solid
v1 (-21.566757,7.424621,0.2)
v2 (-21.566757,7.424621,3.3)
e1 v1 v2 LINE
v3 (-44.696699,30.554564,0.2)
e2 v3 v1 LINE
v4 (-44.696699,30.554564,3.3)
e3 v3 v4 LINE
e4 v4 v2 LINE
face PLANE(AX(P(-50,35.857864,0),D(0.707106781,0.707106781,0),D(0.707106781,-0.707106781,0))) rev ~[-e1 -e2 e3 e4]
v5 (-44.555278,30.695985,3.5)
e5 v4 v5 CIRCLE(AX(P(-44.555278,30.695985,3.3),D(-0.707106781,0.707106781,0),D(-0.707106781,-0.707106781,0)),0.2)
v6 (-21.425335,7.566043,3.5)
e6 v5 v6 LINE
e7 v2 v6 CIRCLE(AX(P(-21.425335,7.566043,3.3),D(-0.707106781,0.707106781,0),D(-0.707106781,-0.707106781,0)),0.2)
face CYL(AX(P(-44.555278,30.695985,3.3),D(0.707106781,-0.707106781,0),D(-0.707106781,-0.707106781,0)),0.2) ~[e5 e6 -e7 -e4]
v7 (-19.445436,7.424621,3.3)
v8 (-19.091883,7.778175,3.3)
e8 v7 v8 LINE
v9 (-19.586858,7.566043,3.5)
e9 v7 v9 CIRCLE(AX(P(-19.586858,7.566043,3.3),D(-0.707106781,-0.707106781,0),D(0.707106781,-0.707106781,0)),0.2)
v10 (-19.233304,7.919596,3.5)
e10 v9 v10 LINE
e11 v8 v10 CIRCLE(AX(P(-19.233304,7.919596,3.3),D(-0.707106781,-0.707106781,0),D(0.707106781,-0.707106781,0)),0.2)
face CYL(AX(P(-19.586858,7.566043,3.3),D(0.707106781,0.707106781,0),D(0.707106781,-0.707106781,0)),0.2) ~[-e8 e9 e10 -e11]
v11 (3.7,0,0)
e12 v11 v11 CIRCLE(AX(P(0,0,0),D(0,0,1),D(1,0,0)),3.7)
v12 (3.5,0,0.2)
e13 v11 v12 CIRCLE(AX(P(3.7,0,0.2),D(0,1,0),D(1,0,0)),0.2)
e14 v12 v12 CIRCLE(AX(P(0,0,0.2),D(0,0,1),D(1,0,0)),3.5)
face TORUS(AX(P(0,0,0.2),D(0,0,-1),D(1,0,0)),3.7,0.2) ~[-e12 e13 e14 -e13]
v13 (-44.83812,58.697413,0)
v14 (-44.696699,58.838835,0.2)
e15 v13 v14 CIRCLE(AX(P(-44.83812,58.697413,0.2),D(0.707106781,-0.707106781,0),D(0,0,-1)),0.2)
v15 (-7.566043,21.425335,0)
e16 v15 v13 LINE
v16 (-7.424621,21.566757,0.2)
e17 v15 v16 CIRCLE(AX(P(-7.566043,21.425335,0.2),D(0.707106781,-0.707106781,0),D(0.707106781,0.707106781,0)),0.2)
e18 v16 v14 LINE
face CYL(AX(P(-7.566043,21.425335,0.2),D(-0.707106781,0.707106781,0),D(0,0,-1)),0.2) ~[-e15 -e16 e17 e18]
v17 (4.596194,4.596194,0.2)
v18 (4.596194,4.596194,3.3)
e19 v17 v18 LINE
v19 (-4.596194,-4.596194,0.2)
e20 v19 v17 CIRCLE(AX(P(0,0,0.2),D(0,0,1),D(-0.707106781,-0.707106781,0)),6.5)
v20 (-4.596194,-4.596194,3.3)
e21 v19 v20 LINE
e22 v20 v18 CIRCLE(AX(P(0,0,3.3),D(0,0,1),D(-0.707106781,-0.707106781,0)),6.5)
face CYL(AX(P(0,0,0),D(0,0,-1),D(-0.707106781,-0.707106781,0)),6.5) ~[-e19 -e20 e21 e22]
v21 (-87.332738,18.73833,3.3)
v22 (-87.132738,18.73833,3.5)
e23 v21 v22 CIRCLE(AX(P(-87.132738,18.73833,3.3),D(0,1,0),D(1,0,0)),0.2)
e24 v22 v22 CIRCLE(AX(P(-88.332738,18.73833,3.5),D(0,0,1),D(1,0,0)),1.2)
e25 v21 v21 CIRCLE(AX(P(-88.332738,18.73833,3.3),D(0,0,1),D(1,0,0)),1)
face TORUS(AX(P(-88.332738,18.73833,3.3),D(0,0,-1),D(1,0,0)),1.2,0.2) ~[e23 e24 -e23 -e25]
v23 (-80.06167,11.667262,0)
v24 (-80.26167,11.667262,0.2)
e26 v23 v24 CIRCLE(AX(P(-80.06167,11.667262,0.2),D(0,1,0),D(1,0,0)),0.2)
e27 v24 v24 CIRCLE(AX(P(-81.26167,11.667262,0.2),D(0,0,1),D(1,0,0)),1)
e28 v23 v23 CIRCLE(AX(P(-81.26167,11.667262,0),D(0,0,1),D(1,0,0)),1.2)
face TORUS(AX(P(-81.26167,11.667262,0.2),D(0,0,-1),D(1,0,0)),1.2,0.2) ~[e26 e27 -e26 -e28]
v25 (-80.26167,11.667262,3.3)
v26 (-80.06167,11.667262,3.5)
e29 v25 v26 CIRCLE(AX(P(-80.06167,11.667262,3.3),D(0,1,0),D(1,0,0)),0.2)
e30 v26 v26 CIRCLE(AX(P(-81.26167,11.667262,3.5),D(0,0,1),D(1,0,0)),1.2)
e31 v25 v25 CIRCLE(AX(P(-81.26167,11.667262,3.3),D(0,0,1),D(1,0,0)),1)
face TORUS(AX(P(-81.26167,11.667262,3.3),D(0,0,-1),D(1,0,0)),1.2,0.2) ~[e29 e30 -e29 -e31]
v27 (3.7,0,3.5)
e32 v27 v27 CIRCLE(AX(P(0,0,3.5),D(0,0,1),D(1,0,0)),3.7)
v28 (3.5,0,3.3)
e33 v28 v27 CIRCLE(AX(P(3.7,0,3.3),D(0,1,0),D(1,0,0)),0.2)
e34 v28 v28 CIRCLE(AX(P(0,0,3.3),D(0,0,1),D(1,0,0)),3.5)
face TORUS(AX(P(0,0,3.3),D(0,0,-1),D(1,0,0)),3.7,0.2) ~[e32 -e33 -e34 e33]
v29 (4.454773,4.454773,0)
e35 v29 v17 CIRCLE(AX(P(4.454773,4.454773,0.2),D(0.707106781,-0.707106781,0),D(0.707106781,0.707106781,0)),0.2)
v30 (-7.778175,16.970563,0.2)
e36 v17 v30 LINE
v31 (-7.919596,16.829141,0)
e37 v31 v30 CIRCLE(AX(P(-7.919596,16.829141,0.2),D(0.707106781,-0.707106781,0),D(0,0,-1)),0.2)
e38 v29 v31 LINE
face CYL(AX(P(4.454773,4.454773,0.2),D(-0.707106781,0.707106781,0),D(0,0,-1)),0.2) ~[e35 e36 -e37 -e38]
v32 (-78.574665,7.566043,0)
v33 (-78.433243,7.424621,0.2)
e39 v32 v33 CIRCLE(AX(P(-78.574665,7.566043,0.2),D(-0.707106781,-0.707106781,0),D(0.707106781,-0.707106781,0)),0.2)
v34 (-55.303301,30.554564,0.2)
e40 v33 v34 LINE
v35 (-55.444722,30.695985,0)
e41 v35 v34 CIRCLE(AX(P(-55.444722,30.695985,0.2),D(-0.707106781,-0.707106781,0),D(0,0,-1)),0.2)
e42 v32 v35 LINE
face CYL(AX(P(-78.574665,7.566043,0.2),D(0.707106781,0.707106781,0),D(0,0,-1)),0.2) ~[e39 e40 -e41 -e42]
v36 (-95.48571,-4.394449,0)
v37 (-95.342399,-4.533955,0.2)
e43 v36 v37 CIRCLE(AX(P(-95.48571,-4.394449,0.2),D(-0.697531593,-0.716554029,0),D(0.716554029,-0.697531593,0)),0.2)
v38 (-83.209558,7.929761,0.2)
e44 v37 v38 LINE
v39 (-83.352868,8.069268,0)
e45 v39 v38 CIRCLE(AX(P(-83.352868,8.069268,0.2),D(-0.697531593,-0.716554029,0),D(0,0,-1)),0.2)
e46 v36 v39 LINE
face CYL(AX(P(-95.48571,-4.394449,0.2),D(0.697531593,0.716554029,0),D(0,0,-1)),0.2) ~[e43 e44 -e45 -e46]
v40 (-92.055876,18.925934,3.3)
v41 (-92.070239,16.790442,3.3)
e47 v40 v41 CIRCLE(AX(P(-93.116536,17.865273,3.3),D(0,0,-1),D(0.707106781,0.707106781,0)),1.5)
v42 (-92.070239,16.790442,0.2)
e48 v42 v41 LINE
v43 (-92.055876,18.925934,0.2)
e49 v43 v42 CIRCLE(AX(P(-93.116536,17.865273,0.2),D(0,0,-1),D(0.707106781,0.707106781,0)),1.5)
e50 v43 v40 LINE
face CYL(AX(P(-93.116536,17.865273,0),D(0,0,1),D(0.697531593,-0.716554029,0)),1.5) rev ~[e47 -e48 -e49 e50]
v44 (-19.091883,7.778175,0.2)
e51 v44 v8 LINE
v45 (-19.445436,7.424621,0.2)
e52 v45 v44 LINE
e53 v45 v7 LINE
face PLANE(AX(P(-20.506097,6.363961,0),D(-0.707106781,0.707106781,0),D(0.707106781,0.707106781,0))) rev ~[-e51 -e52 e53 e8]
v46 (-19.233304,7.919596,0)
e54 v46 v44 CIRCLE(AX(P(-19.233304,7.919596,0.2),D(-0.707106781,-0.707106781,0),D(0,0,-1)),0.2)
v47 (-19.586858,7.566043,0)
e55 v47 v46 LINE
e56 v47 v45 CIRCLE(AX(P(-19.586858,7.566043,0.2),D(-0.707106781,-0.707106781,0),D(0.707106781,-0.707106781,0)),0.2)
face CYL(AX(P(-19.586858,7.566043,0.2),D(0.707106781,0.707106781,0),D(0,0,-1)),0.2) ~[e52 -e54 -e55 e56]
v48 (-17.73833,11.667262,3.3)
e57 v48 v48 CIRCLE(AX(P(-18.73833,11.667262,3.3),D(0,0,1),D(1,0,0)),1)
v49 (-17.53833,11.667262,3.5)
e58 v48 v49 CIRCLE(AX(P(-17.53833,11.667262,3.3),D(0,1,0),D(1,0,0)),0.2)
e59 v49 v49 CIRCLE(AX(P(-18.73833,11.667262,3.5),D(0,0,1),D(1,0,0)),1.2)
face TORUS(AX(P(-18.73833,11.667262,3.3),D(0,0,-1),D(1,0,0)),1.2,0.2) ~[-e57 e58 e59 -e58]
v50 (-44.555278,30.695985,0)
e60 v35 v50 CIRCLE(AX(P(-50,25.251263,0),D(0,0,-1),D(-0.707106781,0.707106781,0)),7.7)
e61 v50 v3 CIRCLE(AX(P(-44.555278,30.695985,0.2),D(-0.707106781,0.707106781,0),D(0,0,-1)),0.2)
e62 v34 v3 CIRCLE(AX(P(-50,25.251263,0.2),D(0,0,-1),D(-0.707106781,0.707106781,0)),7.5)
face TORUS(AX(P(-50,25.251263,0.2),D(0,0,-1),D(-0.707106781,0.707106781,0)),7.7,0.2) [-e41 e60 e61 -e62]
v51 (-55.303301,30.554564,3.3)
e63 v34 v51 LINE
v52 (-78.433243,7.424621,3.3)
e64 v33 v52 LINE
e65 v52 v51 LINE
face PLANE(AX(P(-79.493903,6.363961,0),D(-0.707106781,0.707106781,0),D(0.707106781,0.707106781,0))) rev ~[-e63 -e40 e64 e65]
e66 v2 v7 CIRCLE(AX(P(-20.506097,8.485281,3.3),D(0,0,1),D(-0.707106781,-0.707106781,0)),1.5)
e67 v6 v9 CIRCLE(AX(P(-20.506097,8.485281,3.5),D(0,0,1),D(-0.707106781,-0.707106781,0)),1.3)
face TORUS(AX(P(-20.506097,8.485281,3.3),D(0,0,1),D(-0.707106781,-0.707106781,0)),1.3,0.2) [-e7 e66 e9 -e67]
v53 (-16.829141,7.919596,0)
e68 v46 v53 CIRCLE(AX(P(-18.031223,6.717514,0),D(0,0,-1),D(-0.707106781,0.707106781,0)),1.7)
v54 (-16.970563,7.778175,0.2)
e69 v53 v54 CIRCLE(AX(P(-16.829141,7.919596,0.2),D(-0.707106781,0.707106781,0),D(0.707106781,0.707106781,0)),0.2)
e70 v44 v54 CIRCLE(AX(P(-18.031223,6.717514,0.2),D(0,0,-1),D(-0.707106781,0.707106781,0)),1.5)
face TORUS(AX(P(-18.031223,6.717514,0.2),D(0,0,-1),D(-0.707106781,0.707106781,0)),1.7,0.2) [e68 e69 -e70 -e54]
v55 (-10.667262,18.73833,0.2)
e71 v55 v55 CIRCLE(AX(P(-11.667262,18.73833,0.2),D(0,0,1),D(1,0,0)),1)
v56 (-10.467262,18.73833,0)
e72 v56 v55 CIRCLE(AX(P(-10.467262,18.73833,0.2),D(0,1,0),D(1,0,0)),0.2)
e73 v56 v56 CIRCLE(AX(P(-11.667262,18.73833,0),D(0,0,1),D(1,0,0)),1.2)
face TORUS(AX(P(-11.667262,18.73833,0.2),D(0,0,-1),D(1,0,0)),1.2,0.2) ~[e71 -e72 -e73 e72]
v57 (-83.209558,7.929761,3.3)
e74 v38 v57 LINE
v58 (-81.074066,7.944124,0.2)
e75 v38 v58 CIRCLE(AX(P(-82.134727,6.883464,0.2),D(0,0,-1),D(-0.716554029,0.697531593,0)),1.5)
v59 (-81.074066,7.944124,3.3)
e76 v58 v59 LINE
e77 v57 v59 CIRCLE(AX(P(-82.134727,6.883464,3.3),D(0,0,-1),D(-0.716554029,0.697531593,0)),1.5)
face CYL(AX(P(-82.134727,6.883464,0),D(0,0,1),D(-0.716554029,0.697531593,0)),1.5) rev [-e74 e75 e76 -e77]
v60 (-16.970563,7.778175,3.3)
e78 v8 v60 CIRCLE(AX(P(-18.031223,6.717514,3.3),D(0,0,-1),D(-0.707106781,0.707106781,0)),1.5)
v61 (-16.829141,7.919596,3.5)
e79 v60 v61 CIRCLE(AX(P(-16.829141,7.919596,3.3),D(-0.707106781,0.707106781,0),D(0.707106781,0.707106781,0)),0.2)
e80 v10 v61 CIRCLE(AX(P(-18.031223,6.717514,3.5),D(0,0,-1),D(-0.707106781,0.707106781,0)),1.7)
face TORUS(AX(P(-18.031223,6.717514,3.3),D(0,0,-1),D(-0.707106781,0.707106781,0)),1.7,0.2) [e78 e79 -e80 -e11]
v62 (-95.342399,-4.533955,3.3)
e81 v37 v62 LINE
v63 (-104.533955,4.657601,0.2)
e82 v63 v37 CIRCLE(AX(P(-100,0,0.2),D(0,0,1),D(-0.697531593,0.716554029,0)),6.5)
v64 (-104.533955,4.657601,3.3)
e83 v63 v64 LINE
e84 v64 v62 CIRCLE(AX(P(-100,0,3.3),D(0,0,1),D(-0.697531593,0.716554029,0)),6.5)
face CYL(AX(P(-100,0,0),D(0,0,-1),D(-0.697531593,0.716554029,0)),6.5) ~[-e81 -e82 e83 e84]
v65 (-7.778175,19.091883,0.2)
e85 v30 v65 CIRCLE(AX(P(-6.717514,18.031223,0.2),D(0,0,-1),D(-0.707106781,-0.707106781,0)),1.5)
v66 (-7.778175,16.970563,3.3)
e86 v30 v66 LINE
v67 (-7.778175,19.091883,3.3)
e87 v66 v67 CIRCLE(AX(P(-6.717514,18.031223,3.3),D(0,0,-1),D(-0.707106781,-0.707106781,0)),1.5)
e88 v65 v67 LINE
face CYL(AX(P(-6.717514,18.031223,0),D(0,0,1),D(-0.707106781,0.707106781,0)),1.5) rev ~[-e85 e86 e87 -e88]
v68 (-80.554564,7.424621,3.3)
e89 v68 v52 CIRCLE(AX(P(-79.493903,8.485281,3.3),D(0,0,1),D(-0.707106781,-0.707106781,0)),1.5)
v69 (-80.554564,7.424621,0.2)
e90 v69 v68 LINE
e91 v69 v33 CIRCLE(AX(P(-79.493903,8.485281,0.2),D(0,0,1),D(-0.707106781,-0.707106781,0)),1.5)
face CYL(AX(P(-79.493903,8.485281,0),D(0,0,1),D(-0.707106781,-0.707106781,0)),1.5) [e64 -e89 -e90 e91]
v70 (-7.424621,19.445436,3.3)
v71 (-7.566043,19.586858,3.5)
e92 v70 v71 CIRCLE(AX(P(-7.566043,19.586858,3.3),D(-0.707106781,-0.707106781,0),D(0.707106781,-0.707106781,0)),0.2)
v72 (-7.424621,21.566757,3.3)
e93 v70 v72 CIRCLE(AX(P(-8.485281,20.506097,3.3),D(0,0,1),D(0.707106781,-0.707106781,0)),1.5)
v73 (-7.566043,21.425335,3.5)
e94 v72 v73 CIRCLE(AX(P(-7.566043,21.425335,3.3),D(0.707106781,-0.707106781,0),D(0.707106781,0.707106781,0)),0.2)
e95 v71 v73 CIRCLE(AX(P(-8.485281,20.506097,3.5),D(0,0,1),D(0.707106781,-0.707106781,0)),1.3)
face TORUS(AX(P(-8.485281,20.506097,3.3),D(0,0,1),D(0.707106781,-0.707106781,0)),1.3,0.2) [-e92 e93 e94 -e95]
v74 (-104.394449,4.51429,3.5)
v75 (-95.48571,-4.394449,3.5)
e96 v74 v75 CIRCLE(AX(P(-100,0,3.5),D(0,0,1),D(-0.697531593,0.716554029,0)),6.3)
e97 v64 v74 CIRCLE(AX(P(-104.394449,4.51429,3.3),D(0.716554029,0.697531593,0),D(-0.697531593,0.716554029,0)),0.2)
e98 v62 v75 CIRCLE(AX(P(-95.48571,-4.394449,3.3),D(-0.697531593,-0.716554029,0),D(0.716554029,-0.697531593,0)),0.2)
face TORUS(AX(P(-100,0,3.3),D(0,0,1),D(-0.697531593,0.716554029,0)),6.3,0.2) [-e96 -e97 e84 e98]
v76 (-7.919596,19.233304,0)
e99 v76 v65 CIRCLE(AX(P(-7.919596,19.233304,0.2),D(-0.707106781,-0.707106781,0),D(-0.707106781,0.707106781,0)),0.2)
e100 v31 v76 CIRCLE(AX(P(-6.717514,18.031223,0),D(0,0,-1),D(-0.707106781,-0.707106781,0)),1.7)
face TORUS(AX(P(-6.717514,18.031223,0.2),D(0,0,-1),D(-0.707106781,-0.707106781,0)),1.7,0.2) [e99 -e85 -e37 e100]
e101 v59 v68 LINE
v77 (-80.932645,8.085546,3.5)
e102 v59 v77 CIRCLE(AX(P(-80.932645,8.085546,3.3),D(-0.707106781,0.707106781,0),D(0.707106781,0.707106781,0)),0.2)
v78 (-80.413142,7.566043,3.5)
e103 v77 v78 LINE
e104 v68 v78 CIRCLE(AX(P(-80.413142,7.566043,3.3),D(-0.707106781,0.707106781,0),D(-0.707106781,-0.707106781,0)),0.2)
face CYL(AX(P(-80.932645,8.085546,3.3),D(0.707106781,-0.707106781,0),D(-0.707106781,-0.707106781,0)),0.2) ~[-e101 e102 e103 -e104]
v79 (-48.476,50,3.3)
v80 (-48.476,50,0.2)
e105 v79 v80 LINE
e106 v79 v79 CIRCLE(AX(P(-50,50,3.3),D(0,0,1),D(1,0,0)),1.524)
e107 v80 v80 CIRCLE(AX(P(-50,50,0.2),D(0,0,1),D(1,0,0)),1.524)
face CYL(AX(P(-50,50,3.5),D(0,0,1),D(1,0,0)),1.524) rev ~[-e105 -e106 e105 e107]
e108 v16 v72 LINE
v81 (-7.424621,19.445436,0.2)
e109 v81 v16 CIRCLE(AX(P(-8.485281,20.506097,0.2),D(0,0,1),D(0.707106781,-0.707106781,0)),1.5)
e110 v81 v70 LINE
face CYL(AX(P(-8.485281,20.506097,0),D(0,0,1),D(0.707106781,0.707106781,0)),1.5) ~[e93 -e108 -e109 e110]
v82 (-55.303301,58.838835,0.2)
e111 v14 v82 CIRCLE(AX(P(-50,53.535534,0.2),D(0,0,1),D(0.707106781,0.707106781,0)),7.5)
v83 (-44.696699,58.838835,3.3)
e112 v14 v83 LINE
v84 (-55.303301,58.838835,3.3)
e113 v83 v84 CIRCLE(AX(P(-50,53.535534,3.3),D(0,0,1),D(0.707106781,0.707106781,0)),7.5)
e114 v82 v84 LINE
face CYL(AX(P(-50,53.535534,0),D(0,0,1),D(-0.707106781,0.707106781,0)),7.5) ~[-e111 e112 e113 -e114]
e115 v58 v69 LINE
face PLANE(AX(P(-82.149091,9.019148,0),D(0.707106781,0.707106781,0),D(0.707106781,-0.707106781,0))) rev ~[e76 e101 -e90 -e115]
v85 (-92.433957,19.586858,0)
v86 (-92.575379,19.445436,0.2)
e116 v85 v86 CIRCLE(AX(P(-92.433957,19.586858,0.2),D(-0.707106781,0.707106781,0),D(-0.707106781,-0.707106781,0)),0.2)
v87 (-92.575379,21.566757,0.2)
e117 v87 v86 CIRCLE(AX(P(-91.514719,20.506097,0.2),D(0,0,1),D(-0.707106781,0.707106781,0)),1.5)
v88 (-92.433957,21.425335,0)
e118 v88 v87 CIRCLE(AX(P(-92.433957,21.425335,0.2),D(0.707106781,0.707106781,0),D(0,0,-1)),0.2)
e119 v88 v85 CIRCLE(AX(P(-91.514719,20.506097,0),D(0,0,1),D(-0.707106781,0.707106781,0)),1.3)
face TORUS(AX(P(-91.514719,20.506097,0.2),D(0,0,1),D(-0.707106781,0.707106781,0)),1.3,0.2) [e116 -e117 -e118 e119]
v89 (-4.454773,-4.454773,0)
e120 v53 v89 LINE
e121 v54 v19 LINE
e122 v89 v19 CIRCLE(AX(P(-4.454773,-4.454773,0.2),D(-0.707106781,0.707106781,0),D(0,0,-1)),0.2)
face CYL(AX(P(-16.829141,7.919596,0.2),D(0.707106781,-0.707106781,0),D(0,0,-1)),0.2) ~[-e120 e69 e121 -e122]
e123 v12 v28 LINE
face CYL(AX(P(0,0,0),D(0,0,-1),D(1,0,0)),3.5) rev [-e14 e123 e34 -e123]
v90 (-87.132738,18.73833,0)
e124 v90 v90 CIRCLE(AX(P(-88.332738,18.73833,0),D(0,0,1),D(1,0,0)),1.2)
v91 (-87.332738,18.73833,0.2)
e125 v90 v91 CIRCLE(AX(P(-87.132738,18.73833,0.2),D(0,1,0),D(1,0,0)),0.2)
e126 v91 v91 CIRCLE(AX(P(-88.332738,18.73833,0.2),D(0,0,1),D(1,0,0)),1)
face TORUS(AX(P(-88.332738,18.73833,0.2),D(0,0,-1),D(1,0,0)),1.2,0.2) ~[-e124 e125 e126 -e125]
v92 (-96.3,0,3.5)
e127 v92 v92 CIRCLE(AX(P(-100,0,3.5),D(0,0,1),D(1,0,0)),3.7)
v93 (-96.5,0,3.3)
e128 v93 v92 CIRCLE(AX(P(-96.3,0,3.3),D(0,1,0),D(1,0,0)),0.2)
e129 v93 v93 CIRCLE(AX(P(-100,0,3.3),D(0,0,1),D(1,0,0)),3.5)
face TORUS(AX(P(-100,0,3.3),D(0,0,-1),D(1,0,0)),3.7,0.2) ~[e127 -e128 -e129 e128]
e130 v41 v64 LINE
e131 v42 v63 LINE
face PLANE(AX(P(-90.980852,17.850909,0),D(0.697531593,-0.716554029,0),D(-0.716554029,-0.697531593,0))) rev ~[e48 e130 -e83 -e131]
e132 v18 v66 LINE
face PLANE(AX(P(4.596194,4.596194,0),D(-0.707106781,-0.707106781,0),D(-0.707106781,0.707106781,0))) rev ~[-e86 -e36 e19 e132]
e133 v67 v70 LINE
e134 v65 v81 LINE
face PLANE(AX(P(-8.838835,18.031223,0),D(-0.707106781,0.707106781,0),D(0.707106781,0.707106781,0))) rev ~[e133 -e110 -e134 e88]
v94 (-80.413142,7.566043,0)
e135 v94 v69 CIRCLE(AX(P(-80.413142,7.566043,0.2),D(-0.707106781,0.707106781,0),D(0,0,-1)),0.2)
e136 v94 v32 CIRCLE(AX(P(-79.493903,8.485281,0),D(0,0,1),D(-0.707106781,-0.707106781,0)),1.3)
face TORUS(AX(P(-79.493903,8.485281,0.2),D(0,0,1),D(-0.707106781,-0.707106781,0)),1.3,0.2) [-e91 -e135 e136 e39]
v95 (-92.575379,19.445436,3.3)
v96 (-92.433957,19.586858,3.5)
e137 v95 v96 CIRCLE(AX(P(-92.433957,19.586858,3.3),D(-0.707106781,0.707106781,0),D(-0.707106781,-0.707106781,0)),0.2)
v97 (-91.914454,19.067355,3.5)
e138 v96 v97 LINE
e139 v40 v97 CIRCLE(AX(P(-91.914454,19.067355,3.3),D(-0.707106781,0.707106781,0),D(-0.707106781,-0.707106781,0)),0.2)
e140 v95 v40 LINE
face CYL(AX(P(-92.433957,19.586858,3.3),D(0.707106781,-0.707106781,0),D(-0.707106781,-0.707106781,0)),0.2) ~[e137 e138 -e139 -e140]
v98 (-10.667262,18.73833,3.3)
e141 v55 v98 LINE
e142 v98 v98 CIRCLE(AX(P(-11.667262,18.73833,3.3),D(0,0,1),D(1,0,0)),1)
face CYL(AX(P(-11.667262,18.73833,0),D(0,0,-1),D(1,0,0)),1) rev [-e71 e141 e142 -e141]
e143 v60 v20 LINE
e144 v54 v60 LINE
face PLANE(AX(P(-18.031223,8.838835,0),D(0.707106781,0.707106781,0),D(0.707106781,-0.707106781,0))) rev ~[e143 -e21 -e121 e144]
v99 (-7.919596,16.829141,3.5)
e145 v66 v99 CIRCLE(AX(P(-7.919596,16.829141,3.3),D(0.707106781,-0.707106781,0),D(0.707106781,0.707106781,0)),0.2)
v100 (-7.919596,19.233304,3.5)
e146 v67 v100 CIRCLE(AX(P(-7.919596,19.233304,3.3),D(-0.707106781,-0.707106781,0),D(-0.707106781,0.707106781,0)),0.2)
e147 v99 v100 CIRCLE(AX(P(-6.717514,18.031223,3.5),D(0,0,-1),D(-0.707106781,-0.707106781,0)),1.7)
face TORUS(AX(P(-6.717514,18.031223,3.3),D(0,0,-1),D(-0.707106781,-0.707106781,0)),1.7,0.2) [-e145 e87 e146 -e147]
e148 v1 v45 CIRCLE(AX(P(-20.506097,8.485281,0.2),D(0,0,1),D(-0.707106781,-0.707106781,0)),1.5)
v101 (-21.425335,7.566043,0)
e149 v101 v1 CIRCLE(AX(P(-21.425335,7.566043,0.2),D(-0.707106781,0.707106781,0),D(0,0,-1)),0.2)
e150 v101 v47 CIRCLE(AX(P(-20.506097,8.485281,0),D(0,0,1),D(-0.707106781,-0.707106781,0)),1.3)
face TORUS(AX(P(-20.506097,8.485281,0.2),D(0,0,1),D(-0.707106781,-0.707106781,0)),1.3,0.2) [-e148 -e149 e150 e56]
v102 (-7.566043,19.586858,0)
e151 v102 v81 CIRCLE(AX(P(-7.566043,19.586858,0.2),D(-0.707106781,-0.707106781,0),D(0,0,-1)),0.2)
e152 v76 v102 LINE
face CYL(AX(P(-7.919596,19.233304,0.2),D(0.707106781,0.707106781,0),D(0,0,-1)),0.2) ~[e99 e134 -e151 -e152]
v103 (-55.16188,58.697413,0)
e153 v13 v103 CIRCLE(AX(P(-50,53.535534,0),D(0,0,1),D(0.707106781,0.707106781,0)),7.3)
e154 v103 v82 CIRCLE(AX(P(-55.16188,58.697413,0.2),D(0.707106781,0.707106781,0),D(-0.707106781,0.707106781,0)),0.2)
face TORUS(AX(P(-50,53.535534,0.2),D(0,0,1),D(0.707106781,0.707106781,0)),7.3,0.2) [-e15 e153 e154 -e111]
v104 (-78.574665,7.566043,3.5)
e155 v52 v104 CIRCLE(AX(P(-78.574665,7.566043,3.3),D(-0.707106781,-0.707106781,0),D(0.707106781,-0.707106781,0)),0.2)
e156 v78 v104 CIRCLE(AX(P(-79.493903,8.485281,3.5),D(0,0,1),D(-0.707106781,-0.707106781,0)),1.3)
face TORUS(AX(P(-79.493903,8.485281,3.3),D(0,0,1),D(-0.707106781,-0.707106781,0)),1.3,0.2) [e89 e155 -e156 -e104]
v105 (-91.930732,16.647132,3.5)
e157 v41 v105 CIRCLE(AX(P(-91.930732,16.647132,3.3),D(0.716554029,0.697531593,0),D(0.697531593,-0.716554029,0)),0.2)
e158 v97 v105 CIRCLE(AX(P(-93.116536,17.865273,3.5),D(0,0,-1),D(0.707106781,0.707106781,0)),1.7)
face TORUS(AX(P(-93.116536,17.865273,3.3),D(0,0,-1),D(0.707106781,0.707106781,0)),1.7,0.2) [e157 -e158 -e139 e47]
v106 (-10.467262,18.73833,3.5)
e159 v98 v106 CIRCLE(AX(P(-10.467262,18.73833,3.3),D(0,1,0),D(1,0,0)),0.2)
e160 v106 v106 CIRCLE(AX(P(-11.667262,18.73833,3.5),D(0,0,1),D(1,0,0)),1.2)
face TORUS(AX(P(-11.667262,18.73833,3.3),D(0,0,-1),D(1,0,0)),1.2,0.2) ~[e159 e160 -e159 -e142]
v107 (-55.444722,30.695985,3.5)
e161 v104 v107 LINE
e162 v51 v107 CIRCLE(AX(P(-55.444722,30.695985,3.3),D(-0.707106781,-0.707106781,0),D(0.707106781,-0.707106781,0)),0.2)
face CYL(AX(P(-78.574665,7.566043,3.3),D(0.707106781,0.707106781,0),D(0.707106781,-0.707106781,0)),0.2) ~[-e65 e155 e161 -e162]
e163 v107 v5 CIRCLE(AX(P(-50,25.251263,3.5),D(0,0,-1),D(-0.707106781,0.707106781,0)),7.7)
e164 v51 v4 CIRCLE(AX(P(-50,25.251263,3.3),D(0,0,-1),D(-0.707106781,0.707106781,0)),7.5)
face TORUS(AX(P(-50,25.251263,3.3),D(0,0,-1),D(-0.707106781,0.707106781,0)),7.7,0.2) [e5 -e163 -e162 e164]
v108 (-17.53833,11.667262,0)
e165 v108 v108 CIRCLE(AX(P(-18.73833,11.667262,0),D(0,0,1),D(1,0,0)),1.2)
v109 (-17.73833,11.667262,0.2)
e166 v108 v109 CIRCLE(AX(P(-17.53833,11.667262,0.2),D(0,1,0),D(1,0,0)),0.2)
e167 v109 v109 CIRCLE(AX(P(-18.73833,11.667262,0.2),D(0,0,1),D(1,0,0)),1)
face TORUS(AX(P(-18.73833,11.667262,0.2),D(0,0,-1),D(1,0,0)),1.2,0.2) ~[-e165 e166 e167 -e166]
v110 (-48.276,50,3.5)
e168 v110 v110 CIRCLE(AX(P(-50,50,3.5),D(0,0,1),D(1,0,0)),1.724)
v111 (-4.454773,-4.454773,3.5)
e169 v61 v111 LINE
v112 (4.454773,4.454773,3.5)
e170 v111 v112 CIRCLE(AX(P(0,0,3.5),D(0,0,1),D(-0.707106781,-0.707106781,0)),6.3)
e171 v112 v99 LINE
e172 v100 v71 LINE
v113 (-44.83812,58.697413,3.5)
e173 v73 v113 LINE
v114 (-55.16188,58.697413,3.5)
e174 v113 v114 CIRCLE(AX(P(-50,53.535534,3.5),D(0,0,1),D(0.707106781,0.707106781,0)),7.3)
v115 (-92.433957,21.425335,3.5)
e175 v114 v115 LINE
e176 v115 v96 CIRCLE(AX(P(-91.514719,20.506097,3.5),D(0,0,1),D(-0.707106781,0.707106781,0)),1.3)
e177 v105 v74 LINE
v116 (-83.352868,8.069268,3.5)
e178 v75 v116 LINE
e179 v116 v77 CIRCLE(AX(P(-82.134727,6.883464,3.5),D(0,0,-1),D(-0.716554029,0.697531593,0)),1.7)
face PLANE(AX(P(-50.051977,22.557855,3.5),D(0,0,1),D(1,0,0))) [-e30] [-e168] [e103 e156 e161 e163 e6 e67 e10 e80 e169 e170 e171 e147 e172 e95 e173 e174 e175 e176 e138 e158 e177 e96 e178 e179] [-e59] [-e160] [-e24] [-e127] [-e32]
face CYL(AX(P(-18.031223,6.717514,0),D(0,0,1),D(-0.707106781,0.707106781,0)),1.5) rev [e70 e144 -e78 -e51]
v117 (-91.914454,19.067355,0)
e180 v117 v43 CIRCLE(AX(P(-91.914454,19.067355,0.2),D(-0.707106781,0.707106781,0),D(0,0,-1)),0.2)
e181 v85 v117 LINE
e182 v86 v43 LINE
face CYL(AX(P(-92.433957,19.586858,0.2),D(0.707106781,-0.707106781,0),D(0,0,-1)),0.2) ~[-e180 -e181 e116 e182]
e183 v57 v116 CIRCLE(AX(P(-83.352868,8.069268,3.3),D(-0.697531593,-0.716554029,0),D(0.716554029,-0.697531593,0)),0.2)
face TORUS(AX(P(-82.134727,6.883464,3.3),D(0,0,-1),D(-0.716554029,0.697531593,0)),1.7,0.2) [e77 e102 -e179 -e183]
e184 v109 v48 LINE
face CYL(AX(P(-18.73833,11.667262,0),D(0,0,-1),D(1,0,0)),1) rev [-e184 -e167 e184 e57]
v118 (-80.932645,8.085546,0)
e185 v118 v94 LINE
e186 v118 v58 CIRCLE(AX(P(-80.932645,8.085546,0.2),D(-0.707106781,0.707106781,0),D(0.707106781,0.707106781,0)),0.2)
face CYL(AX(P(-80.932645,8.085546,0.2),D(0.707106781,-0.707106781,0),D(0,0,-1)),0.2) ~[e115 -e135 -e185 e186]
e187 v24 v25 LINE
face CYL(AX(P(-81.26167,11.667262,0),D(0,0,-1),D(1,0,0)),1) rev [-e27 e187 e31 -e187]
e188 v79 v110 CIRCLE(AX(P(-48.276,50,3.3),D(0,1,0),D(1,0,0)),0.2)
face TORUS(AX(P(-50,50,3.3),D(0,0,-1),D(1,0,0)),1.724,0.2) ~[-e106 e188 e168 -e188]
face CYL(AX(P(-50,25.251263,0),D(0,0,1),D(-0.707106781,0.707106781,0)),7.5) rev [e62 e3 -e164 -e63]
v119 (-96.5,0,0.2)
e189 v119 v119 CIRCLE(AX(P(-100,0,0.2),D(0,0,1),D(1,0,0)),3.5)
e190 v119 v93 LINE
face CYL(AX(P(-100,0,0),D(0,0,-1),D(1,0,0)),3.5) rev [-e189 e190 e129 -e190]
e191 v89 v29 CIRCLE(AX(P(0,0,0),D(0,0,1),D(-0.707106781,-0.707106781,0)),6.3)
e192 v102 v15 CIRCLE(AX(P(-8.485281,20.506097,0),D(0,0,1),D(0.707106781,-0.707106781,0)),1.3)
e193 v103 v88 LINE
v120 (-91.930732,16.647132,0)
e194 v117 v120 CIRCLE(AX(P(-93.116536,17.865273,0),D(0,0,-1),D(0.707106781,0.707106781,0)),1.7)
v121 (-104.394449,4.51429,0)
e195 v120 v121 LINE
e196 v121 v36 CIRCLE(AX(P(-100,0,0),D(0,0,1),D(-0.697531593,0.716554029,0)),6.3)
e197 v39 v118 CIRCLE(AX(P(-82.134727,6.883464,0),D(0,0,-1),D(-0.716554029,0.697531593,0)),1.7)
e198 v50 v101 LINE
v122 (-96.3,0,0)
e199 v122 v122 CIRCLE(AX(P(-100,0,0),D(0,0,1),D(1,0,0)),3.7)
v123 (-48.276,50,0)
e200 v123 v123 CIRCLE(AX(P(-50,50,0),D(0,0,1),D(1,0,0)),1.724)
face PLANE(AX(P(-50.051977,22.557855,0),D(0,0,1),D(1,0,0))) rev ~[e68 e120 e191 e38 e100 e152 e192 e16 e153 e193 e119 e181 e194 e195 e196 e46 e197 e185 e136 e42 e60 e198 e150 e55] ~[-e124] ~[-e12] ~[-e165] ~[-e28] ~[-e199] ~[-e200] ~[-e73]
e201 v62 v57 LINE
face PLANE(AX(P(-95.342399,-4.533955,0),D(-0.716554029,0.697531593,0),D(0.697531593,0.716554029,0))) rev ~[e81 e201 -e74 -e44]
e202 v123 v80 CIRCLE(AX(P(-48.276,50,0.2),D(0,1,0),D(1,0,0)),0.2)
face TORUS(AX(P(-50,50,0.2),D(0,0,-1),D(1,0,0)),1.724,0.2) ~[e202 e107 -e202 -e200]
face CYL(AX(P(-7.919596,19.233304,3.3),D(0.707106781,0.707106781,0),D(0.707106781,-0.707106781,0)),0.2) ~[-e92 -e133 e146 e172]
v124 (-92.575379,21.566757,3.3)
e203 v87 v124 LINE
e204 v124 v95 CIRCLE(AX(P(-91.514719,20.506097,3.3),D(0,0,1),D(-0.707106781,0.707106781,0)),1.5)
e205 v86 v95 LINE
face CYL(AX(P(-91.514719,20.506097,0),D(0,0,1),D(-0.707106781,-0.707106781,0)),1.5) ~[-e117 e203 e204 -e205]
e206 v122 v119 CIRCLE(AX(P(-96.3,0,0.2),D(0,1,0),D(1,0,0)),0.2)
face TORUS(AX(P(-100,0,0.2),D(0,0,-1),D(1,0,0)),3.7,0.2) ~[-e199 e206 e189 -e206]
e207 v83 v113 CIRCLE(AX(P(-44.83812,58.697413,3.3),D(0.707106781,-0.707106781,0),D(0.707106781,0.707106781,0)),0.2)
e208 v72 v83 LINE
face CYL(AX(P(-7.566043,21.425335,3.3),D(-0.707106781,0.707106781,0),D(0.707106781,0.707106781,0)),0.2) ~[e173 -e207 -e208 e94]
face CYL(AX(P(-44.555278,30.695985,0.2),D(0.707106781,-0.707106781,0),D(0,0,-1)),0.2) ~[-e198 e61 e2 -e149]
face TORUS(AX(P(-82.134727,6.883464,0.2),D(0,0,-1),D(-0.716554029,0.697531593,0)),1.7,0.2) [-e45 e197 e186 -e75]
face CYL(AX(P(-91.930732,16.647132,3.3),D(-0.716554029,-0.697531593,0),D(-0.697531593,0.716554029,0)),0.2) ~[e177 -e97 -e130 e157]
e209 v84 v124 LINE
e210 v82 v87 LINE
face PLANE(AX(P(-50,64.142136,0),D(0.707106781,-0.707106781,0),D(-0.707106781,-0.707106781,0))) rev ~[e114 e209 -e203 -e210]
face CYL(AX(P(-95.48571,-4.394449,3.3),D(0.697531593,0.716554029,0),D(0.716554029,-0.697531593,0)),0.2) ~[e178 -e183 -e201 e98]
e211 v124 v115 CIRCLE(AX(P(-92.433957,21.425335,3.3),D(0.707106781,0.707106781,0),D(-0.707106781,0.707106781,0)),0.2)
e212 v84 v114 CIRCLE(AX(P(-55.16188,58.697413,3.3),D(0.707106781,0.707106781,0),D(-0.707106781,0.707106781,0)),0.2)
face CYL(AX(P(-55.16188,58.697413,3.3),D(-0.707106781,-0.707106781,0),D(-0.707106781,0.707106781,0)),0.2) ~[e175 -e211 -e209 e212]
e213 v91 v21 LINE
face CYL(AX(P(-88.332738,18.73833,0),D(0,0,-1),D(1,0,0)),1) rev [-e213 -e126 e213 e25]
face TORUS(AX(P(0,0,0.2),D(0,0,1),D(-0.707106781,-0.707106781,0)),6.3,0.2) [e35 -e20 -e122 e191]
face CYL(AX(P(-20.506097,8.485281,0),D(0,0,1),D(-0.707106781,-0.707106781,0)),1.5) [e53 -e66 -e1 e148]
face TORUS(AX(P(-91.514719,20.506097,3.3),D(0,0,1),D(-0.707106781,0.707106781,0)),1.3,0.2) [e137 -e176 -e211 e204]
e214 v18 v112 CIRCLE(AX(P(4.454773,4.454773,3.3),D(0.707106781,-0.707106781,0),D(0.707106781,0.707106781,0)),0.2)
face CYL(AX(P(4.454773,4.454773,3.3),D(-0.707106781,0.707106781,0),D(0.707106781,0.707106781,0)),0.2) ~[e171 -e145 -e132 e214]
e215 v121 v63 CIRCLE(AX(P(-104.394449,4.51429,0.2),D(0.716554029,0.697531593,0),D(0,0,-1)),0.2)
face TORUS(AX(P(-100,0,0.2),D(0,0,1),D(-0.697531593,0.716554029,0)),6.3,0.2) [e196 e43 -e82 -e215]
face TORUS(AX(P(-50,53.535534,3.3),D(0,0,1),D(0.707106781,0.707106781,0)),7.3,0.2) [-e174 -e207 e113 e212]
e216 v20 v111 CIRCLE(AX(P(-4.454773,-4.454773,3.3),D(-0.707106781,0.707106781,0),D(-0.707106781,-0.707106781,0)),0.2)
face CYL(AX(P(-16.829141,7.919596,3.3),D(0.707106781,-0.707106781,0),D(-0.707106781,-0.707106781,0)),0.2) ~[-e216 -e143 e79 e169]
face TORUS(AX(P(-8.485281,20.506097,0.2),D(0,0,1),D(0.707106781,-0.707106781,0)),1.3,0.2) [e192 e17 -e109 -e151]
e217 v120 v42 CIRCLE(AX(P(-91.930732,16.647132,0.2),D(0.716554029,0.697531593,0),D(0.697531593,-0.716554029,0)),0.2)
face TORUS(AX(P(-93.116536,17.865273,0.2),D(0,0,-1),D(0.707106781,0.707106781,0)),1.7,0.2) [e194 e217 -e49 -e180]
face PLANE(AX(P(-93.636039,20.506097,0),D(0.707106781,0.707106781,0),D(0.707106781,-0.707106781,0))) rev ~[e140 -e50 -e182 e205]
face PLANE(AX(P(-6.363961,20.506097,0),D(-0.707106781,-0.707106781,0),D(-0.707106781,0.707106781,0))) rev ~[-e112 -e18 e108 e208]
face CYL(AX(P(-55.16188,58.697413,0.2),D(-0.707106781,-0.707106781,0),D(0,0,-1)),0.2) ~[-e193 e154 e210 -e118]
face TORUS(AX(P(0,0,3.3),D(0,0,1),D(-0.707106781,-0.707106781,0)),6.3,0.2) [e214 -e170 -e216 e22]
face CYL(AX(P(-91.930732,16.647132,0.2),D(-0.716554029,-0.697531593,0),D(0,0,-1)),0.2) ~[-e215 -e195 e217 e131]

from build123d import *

# Parameters (mm, degrees)
SKETCH3_R           = 3.5
SKETCH3_R_2         = 1
BOSS_EXTRUDE1_DEPTH = 3.5
FILLET3_R           = 1.5
FILLET4_R           = 7.5
SKETCH4_R           = 1.524
CUT_EXTRUDE1_DEPTH  = 3.5
FILLET5_R           = 0.2


with BuildPart() as part:
    # Sketch3 → Boss-Extrude1 (new body)
    with BuildSketch(Plane.XY):
        with BuildLine():
            Line((-95.342398812, -4.533955357), (-82.149090724, 9.019148409))
            Line((-82.149090724, 9.019148409), (-79.493903346, 6.363961031))
            Line((-79.493903346, 6.363961031), (-50, 35.857864376))
            Line((-50, 35.857864376), (-20.506096654, 6.363961031))
            Line((-20.506096654, 6.363961031), (-18.03122292, 8.838834765))
            Line((-18.03122292, 8.838834765), (-4.596194078, -4.596194078))
            ThreePointArc((-4.596194078, -4.596194078), (4.596194078, -4.596194078), (4.596194078, 4.596194078))
            Line((4.596194078, 4.596194078), (-8.838834765, 18.03122292))
            Line((-8.838834765, 18.03122292), (-6.363961031, 20.506096654))
            Line((-6.363961031, 20.506096654), (-50, 64.142135624))
            Line((-50, 64.142135624), (-93.636038969, 20.506096654))
            Line((-93.636038969, 20.506096654), (-90.980851591, 17.850909276))
            Line((-90.980851591, 17.850909276), (-104.533955357, 4.657601188))
            ThreePointArc((-104.533955357, 4.657601188), (-104.596194078, -4.596194078), (-95.342398812, -4.533955357))
        make_face()
        Circle(SKETCH3_R, mode=Mode.SUBTRACT)
        with Locations((-100, 0)):
            Circle(SKETCH3_R, mode=Mode.SUBTRACT)
        with Locations((-18.738329701, 11.66726189)):
            Circle(SKETCH3_R_2, mode=Mode.SUBTRACT)
        with Locations((-81.261670299, 11.66726189)):
            Circle(SKETCH3_R_2, mode=Mode.SUBTRACT)
        with Locations((-88.33273811, 18.738329701)):
            Circle(SKETCH3_R_2, mode=Mode.SUBTRACT)
        with Locations((-11.66726189, 18.738329701)):
            Circle(SKETCH3_R_2, mode=Mode.SUBTRACT)
    extrude(amount=BOSS_EXTRUDE1_DEPTH)

    # Fillet3
    fillet3_edges = [part.edges().sort_by_distance(p)[0] for p in [
        (-82.149090724, 9.019148409, 1.75),
        (-90.980851591, 17.850909276, 1.75),
        (-93.636038969, 20.506096654, 1.75),
        (-6.363961031, 20.506096654, 1.75),
        (-8.838834765, 18.03122292, 1.75),
        (-18.03122292, 8.838834765, 1.75),
        (-20.506096654, 6.363961031, 1.75),
        (-79.493903346, 6.363961031, 1.75),
    ]]
    fillet(fillet3_edges, radius=FILLET3_R)

    # Fillet4
    fillet4_edges = [part.edges().sort_by_distance(p)[0] for p in [
        (-50, 64.142135624, 1.75),
        (-50, 35.857864376, 1.75),
    ]]
    fillet(fillet4_edges, radius=FILLET4_R)

    # Sketch4 → Cut-Extrude1 (cut)
    with BuildSketch(Plane.XY.offset(3.5)):
        with Locations((-50, 50)):
            Circle(SKETCH4_R)
    extrude(amount=-CUT_EXTRUDE1_DEPTH, mode=Mode.SUBTRACT)

    # Fillet5
    fillet5_edges = [part.edges().sort_by_distance(p)[0] for p in [
        (-33.131727984, 18.98959236, 0),
        (-33.131727984, 18.98959236, 3.5),
        (-73.939339828, 40.202795796, 0),
        (-73.939339828, 40.202795796, 3.5),
        (-50, 61.035533906, 0),
        (-50, 61.035533906, 3.5),
        (-50, 32.751262658, 0),
        (-50, 32.751262658, 3.5),
        (-51.524, 50, 0),
        (-51.524, 50, 3.5),
        (-89.275978249, 1.697903009, 0),
        (-104.596194078, -4.596194078, 0),
        (-1.590990258, 10.783378413, 0),
        (4.596194078, -4.596194078, 0),
        (4.596194078, -4.596194078, 3.5),
        (-1.590990258, 10.783378413, 3.5),
        (-3.5, 0, 0),
        (-3.5, 0, 3.5),
        (-103.5, 0, 0),
        (-103.5, 0, 3.5),
        (-19.738329701, 11.66726189, 0),
        (-19.738329701, 11.66726189, 3.5),
        (-82.261670299, 11.66726189, 0),
        (-82.261670299, 11.66726189, 3.5),
        (-89.33273811, 18.738329701, 0),
        (-89.33273811, 18.738329701, 3.5),
        (-104.596194078, -4.596194078, 3.5),
        (-12.66726189, 18.738329701, 0),
        (-12.66726189, 18.738329701, 3.5),
        (-89.275978249, 1.697903009, 3.5),
        (-80.814314994, 7.684372679, 0),
        (-80.814314994, 7.684372679, 3.5),
        (-66.868272016, 18.98959236, 0),
        (-66.868272016, 18.98959236, 3.5),
        (-98.302096991, 10.724021751, 0),
        (-92.315627321, 19.185685006, 0),
        (-26.060660172, 40.202795796, 0),
        (-7.601397898, 19.268659787, 0),
        (-10.783378413, 1.590990258, 0),
        (-19.268659787, 7.601397898, 0),
        (-6.985281374, 20.506096654, 0),
        (-20.506096654, 6.985281374, 0),
        (-93.014718626, 20.506096654, 0),
        (-79.493903346, 6.985281374, 0),
        (-19.268659787, 7.601397898, 3.5),
        (-10.783378413, 1.590990258, 3.5),
        (-7.601397898, 19.268659787, 3.5),
        (-26.060660172, 40.202795796, 3.5),
        (-92.315627321, 19.185685006, 3.5),
        (-98.302096991, 10.724021751, 3.5),
        (-6.985281374, 20.506096654, 3.5),
        (-20.506096654, 6.985281374, 3.5),
        (-93.014718626, 20.506096654, 3.5),
        (-79.493903346, 6.985281374, 3.5),
        (-82.144815041, 8.383430059, 0),
        (-82.144815041, 8.383430059, 3.5),
        (-91.616569941, 17.855184959, 0),
        (-91.616569941, 17.855184959, 3.5),
        (-18.03122292, 8.217514421, 0),
        (-18.03122292, 8.217514421, 3.5),
        (-8.217514421, 18.03122292, 0),
        (-8.217514421, 18.03122292, 3.5),
    ]]
    fillet(fillet5_edges, radius=FILLET5_R)


solid = part.part
